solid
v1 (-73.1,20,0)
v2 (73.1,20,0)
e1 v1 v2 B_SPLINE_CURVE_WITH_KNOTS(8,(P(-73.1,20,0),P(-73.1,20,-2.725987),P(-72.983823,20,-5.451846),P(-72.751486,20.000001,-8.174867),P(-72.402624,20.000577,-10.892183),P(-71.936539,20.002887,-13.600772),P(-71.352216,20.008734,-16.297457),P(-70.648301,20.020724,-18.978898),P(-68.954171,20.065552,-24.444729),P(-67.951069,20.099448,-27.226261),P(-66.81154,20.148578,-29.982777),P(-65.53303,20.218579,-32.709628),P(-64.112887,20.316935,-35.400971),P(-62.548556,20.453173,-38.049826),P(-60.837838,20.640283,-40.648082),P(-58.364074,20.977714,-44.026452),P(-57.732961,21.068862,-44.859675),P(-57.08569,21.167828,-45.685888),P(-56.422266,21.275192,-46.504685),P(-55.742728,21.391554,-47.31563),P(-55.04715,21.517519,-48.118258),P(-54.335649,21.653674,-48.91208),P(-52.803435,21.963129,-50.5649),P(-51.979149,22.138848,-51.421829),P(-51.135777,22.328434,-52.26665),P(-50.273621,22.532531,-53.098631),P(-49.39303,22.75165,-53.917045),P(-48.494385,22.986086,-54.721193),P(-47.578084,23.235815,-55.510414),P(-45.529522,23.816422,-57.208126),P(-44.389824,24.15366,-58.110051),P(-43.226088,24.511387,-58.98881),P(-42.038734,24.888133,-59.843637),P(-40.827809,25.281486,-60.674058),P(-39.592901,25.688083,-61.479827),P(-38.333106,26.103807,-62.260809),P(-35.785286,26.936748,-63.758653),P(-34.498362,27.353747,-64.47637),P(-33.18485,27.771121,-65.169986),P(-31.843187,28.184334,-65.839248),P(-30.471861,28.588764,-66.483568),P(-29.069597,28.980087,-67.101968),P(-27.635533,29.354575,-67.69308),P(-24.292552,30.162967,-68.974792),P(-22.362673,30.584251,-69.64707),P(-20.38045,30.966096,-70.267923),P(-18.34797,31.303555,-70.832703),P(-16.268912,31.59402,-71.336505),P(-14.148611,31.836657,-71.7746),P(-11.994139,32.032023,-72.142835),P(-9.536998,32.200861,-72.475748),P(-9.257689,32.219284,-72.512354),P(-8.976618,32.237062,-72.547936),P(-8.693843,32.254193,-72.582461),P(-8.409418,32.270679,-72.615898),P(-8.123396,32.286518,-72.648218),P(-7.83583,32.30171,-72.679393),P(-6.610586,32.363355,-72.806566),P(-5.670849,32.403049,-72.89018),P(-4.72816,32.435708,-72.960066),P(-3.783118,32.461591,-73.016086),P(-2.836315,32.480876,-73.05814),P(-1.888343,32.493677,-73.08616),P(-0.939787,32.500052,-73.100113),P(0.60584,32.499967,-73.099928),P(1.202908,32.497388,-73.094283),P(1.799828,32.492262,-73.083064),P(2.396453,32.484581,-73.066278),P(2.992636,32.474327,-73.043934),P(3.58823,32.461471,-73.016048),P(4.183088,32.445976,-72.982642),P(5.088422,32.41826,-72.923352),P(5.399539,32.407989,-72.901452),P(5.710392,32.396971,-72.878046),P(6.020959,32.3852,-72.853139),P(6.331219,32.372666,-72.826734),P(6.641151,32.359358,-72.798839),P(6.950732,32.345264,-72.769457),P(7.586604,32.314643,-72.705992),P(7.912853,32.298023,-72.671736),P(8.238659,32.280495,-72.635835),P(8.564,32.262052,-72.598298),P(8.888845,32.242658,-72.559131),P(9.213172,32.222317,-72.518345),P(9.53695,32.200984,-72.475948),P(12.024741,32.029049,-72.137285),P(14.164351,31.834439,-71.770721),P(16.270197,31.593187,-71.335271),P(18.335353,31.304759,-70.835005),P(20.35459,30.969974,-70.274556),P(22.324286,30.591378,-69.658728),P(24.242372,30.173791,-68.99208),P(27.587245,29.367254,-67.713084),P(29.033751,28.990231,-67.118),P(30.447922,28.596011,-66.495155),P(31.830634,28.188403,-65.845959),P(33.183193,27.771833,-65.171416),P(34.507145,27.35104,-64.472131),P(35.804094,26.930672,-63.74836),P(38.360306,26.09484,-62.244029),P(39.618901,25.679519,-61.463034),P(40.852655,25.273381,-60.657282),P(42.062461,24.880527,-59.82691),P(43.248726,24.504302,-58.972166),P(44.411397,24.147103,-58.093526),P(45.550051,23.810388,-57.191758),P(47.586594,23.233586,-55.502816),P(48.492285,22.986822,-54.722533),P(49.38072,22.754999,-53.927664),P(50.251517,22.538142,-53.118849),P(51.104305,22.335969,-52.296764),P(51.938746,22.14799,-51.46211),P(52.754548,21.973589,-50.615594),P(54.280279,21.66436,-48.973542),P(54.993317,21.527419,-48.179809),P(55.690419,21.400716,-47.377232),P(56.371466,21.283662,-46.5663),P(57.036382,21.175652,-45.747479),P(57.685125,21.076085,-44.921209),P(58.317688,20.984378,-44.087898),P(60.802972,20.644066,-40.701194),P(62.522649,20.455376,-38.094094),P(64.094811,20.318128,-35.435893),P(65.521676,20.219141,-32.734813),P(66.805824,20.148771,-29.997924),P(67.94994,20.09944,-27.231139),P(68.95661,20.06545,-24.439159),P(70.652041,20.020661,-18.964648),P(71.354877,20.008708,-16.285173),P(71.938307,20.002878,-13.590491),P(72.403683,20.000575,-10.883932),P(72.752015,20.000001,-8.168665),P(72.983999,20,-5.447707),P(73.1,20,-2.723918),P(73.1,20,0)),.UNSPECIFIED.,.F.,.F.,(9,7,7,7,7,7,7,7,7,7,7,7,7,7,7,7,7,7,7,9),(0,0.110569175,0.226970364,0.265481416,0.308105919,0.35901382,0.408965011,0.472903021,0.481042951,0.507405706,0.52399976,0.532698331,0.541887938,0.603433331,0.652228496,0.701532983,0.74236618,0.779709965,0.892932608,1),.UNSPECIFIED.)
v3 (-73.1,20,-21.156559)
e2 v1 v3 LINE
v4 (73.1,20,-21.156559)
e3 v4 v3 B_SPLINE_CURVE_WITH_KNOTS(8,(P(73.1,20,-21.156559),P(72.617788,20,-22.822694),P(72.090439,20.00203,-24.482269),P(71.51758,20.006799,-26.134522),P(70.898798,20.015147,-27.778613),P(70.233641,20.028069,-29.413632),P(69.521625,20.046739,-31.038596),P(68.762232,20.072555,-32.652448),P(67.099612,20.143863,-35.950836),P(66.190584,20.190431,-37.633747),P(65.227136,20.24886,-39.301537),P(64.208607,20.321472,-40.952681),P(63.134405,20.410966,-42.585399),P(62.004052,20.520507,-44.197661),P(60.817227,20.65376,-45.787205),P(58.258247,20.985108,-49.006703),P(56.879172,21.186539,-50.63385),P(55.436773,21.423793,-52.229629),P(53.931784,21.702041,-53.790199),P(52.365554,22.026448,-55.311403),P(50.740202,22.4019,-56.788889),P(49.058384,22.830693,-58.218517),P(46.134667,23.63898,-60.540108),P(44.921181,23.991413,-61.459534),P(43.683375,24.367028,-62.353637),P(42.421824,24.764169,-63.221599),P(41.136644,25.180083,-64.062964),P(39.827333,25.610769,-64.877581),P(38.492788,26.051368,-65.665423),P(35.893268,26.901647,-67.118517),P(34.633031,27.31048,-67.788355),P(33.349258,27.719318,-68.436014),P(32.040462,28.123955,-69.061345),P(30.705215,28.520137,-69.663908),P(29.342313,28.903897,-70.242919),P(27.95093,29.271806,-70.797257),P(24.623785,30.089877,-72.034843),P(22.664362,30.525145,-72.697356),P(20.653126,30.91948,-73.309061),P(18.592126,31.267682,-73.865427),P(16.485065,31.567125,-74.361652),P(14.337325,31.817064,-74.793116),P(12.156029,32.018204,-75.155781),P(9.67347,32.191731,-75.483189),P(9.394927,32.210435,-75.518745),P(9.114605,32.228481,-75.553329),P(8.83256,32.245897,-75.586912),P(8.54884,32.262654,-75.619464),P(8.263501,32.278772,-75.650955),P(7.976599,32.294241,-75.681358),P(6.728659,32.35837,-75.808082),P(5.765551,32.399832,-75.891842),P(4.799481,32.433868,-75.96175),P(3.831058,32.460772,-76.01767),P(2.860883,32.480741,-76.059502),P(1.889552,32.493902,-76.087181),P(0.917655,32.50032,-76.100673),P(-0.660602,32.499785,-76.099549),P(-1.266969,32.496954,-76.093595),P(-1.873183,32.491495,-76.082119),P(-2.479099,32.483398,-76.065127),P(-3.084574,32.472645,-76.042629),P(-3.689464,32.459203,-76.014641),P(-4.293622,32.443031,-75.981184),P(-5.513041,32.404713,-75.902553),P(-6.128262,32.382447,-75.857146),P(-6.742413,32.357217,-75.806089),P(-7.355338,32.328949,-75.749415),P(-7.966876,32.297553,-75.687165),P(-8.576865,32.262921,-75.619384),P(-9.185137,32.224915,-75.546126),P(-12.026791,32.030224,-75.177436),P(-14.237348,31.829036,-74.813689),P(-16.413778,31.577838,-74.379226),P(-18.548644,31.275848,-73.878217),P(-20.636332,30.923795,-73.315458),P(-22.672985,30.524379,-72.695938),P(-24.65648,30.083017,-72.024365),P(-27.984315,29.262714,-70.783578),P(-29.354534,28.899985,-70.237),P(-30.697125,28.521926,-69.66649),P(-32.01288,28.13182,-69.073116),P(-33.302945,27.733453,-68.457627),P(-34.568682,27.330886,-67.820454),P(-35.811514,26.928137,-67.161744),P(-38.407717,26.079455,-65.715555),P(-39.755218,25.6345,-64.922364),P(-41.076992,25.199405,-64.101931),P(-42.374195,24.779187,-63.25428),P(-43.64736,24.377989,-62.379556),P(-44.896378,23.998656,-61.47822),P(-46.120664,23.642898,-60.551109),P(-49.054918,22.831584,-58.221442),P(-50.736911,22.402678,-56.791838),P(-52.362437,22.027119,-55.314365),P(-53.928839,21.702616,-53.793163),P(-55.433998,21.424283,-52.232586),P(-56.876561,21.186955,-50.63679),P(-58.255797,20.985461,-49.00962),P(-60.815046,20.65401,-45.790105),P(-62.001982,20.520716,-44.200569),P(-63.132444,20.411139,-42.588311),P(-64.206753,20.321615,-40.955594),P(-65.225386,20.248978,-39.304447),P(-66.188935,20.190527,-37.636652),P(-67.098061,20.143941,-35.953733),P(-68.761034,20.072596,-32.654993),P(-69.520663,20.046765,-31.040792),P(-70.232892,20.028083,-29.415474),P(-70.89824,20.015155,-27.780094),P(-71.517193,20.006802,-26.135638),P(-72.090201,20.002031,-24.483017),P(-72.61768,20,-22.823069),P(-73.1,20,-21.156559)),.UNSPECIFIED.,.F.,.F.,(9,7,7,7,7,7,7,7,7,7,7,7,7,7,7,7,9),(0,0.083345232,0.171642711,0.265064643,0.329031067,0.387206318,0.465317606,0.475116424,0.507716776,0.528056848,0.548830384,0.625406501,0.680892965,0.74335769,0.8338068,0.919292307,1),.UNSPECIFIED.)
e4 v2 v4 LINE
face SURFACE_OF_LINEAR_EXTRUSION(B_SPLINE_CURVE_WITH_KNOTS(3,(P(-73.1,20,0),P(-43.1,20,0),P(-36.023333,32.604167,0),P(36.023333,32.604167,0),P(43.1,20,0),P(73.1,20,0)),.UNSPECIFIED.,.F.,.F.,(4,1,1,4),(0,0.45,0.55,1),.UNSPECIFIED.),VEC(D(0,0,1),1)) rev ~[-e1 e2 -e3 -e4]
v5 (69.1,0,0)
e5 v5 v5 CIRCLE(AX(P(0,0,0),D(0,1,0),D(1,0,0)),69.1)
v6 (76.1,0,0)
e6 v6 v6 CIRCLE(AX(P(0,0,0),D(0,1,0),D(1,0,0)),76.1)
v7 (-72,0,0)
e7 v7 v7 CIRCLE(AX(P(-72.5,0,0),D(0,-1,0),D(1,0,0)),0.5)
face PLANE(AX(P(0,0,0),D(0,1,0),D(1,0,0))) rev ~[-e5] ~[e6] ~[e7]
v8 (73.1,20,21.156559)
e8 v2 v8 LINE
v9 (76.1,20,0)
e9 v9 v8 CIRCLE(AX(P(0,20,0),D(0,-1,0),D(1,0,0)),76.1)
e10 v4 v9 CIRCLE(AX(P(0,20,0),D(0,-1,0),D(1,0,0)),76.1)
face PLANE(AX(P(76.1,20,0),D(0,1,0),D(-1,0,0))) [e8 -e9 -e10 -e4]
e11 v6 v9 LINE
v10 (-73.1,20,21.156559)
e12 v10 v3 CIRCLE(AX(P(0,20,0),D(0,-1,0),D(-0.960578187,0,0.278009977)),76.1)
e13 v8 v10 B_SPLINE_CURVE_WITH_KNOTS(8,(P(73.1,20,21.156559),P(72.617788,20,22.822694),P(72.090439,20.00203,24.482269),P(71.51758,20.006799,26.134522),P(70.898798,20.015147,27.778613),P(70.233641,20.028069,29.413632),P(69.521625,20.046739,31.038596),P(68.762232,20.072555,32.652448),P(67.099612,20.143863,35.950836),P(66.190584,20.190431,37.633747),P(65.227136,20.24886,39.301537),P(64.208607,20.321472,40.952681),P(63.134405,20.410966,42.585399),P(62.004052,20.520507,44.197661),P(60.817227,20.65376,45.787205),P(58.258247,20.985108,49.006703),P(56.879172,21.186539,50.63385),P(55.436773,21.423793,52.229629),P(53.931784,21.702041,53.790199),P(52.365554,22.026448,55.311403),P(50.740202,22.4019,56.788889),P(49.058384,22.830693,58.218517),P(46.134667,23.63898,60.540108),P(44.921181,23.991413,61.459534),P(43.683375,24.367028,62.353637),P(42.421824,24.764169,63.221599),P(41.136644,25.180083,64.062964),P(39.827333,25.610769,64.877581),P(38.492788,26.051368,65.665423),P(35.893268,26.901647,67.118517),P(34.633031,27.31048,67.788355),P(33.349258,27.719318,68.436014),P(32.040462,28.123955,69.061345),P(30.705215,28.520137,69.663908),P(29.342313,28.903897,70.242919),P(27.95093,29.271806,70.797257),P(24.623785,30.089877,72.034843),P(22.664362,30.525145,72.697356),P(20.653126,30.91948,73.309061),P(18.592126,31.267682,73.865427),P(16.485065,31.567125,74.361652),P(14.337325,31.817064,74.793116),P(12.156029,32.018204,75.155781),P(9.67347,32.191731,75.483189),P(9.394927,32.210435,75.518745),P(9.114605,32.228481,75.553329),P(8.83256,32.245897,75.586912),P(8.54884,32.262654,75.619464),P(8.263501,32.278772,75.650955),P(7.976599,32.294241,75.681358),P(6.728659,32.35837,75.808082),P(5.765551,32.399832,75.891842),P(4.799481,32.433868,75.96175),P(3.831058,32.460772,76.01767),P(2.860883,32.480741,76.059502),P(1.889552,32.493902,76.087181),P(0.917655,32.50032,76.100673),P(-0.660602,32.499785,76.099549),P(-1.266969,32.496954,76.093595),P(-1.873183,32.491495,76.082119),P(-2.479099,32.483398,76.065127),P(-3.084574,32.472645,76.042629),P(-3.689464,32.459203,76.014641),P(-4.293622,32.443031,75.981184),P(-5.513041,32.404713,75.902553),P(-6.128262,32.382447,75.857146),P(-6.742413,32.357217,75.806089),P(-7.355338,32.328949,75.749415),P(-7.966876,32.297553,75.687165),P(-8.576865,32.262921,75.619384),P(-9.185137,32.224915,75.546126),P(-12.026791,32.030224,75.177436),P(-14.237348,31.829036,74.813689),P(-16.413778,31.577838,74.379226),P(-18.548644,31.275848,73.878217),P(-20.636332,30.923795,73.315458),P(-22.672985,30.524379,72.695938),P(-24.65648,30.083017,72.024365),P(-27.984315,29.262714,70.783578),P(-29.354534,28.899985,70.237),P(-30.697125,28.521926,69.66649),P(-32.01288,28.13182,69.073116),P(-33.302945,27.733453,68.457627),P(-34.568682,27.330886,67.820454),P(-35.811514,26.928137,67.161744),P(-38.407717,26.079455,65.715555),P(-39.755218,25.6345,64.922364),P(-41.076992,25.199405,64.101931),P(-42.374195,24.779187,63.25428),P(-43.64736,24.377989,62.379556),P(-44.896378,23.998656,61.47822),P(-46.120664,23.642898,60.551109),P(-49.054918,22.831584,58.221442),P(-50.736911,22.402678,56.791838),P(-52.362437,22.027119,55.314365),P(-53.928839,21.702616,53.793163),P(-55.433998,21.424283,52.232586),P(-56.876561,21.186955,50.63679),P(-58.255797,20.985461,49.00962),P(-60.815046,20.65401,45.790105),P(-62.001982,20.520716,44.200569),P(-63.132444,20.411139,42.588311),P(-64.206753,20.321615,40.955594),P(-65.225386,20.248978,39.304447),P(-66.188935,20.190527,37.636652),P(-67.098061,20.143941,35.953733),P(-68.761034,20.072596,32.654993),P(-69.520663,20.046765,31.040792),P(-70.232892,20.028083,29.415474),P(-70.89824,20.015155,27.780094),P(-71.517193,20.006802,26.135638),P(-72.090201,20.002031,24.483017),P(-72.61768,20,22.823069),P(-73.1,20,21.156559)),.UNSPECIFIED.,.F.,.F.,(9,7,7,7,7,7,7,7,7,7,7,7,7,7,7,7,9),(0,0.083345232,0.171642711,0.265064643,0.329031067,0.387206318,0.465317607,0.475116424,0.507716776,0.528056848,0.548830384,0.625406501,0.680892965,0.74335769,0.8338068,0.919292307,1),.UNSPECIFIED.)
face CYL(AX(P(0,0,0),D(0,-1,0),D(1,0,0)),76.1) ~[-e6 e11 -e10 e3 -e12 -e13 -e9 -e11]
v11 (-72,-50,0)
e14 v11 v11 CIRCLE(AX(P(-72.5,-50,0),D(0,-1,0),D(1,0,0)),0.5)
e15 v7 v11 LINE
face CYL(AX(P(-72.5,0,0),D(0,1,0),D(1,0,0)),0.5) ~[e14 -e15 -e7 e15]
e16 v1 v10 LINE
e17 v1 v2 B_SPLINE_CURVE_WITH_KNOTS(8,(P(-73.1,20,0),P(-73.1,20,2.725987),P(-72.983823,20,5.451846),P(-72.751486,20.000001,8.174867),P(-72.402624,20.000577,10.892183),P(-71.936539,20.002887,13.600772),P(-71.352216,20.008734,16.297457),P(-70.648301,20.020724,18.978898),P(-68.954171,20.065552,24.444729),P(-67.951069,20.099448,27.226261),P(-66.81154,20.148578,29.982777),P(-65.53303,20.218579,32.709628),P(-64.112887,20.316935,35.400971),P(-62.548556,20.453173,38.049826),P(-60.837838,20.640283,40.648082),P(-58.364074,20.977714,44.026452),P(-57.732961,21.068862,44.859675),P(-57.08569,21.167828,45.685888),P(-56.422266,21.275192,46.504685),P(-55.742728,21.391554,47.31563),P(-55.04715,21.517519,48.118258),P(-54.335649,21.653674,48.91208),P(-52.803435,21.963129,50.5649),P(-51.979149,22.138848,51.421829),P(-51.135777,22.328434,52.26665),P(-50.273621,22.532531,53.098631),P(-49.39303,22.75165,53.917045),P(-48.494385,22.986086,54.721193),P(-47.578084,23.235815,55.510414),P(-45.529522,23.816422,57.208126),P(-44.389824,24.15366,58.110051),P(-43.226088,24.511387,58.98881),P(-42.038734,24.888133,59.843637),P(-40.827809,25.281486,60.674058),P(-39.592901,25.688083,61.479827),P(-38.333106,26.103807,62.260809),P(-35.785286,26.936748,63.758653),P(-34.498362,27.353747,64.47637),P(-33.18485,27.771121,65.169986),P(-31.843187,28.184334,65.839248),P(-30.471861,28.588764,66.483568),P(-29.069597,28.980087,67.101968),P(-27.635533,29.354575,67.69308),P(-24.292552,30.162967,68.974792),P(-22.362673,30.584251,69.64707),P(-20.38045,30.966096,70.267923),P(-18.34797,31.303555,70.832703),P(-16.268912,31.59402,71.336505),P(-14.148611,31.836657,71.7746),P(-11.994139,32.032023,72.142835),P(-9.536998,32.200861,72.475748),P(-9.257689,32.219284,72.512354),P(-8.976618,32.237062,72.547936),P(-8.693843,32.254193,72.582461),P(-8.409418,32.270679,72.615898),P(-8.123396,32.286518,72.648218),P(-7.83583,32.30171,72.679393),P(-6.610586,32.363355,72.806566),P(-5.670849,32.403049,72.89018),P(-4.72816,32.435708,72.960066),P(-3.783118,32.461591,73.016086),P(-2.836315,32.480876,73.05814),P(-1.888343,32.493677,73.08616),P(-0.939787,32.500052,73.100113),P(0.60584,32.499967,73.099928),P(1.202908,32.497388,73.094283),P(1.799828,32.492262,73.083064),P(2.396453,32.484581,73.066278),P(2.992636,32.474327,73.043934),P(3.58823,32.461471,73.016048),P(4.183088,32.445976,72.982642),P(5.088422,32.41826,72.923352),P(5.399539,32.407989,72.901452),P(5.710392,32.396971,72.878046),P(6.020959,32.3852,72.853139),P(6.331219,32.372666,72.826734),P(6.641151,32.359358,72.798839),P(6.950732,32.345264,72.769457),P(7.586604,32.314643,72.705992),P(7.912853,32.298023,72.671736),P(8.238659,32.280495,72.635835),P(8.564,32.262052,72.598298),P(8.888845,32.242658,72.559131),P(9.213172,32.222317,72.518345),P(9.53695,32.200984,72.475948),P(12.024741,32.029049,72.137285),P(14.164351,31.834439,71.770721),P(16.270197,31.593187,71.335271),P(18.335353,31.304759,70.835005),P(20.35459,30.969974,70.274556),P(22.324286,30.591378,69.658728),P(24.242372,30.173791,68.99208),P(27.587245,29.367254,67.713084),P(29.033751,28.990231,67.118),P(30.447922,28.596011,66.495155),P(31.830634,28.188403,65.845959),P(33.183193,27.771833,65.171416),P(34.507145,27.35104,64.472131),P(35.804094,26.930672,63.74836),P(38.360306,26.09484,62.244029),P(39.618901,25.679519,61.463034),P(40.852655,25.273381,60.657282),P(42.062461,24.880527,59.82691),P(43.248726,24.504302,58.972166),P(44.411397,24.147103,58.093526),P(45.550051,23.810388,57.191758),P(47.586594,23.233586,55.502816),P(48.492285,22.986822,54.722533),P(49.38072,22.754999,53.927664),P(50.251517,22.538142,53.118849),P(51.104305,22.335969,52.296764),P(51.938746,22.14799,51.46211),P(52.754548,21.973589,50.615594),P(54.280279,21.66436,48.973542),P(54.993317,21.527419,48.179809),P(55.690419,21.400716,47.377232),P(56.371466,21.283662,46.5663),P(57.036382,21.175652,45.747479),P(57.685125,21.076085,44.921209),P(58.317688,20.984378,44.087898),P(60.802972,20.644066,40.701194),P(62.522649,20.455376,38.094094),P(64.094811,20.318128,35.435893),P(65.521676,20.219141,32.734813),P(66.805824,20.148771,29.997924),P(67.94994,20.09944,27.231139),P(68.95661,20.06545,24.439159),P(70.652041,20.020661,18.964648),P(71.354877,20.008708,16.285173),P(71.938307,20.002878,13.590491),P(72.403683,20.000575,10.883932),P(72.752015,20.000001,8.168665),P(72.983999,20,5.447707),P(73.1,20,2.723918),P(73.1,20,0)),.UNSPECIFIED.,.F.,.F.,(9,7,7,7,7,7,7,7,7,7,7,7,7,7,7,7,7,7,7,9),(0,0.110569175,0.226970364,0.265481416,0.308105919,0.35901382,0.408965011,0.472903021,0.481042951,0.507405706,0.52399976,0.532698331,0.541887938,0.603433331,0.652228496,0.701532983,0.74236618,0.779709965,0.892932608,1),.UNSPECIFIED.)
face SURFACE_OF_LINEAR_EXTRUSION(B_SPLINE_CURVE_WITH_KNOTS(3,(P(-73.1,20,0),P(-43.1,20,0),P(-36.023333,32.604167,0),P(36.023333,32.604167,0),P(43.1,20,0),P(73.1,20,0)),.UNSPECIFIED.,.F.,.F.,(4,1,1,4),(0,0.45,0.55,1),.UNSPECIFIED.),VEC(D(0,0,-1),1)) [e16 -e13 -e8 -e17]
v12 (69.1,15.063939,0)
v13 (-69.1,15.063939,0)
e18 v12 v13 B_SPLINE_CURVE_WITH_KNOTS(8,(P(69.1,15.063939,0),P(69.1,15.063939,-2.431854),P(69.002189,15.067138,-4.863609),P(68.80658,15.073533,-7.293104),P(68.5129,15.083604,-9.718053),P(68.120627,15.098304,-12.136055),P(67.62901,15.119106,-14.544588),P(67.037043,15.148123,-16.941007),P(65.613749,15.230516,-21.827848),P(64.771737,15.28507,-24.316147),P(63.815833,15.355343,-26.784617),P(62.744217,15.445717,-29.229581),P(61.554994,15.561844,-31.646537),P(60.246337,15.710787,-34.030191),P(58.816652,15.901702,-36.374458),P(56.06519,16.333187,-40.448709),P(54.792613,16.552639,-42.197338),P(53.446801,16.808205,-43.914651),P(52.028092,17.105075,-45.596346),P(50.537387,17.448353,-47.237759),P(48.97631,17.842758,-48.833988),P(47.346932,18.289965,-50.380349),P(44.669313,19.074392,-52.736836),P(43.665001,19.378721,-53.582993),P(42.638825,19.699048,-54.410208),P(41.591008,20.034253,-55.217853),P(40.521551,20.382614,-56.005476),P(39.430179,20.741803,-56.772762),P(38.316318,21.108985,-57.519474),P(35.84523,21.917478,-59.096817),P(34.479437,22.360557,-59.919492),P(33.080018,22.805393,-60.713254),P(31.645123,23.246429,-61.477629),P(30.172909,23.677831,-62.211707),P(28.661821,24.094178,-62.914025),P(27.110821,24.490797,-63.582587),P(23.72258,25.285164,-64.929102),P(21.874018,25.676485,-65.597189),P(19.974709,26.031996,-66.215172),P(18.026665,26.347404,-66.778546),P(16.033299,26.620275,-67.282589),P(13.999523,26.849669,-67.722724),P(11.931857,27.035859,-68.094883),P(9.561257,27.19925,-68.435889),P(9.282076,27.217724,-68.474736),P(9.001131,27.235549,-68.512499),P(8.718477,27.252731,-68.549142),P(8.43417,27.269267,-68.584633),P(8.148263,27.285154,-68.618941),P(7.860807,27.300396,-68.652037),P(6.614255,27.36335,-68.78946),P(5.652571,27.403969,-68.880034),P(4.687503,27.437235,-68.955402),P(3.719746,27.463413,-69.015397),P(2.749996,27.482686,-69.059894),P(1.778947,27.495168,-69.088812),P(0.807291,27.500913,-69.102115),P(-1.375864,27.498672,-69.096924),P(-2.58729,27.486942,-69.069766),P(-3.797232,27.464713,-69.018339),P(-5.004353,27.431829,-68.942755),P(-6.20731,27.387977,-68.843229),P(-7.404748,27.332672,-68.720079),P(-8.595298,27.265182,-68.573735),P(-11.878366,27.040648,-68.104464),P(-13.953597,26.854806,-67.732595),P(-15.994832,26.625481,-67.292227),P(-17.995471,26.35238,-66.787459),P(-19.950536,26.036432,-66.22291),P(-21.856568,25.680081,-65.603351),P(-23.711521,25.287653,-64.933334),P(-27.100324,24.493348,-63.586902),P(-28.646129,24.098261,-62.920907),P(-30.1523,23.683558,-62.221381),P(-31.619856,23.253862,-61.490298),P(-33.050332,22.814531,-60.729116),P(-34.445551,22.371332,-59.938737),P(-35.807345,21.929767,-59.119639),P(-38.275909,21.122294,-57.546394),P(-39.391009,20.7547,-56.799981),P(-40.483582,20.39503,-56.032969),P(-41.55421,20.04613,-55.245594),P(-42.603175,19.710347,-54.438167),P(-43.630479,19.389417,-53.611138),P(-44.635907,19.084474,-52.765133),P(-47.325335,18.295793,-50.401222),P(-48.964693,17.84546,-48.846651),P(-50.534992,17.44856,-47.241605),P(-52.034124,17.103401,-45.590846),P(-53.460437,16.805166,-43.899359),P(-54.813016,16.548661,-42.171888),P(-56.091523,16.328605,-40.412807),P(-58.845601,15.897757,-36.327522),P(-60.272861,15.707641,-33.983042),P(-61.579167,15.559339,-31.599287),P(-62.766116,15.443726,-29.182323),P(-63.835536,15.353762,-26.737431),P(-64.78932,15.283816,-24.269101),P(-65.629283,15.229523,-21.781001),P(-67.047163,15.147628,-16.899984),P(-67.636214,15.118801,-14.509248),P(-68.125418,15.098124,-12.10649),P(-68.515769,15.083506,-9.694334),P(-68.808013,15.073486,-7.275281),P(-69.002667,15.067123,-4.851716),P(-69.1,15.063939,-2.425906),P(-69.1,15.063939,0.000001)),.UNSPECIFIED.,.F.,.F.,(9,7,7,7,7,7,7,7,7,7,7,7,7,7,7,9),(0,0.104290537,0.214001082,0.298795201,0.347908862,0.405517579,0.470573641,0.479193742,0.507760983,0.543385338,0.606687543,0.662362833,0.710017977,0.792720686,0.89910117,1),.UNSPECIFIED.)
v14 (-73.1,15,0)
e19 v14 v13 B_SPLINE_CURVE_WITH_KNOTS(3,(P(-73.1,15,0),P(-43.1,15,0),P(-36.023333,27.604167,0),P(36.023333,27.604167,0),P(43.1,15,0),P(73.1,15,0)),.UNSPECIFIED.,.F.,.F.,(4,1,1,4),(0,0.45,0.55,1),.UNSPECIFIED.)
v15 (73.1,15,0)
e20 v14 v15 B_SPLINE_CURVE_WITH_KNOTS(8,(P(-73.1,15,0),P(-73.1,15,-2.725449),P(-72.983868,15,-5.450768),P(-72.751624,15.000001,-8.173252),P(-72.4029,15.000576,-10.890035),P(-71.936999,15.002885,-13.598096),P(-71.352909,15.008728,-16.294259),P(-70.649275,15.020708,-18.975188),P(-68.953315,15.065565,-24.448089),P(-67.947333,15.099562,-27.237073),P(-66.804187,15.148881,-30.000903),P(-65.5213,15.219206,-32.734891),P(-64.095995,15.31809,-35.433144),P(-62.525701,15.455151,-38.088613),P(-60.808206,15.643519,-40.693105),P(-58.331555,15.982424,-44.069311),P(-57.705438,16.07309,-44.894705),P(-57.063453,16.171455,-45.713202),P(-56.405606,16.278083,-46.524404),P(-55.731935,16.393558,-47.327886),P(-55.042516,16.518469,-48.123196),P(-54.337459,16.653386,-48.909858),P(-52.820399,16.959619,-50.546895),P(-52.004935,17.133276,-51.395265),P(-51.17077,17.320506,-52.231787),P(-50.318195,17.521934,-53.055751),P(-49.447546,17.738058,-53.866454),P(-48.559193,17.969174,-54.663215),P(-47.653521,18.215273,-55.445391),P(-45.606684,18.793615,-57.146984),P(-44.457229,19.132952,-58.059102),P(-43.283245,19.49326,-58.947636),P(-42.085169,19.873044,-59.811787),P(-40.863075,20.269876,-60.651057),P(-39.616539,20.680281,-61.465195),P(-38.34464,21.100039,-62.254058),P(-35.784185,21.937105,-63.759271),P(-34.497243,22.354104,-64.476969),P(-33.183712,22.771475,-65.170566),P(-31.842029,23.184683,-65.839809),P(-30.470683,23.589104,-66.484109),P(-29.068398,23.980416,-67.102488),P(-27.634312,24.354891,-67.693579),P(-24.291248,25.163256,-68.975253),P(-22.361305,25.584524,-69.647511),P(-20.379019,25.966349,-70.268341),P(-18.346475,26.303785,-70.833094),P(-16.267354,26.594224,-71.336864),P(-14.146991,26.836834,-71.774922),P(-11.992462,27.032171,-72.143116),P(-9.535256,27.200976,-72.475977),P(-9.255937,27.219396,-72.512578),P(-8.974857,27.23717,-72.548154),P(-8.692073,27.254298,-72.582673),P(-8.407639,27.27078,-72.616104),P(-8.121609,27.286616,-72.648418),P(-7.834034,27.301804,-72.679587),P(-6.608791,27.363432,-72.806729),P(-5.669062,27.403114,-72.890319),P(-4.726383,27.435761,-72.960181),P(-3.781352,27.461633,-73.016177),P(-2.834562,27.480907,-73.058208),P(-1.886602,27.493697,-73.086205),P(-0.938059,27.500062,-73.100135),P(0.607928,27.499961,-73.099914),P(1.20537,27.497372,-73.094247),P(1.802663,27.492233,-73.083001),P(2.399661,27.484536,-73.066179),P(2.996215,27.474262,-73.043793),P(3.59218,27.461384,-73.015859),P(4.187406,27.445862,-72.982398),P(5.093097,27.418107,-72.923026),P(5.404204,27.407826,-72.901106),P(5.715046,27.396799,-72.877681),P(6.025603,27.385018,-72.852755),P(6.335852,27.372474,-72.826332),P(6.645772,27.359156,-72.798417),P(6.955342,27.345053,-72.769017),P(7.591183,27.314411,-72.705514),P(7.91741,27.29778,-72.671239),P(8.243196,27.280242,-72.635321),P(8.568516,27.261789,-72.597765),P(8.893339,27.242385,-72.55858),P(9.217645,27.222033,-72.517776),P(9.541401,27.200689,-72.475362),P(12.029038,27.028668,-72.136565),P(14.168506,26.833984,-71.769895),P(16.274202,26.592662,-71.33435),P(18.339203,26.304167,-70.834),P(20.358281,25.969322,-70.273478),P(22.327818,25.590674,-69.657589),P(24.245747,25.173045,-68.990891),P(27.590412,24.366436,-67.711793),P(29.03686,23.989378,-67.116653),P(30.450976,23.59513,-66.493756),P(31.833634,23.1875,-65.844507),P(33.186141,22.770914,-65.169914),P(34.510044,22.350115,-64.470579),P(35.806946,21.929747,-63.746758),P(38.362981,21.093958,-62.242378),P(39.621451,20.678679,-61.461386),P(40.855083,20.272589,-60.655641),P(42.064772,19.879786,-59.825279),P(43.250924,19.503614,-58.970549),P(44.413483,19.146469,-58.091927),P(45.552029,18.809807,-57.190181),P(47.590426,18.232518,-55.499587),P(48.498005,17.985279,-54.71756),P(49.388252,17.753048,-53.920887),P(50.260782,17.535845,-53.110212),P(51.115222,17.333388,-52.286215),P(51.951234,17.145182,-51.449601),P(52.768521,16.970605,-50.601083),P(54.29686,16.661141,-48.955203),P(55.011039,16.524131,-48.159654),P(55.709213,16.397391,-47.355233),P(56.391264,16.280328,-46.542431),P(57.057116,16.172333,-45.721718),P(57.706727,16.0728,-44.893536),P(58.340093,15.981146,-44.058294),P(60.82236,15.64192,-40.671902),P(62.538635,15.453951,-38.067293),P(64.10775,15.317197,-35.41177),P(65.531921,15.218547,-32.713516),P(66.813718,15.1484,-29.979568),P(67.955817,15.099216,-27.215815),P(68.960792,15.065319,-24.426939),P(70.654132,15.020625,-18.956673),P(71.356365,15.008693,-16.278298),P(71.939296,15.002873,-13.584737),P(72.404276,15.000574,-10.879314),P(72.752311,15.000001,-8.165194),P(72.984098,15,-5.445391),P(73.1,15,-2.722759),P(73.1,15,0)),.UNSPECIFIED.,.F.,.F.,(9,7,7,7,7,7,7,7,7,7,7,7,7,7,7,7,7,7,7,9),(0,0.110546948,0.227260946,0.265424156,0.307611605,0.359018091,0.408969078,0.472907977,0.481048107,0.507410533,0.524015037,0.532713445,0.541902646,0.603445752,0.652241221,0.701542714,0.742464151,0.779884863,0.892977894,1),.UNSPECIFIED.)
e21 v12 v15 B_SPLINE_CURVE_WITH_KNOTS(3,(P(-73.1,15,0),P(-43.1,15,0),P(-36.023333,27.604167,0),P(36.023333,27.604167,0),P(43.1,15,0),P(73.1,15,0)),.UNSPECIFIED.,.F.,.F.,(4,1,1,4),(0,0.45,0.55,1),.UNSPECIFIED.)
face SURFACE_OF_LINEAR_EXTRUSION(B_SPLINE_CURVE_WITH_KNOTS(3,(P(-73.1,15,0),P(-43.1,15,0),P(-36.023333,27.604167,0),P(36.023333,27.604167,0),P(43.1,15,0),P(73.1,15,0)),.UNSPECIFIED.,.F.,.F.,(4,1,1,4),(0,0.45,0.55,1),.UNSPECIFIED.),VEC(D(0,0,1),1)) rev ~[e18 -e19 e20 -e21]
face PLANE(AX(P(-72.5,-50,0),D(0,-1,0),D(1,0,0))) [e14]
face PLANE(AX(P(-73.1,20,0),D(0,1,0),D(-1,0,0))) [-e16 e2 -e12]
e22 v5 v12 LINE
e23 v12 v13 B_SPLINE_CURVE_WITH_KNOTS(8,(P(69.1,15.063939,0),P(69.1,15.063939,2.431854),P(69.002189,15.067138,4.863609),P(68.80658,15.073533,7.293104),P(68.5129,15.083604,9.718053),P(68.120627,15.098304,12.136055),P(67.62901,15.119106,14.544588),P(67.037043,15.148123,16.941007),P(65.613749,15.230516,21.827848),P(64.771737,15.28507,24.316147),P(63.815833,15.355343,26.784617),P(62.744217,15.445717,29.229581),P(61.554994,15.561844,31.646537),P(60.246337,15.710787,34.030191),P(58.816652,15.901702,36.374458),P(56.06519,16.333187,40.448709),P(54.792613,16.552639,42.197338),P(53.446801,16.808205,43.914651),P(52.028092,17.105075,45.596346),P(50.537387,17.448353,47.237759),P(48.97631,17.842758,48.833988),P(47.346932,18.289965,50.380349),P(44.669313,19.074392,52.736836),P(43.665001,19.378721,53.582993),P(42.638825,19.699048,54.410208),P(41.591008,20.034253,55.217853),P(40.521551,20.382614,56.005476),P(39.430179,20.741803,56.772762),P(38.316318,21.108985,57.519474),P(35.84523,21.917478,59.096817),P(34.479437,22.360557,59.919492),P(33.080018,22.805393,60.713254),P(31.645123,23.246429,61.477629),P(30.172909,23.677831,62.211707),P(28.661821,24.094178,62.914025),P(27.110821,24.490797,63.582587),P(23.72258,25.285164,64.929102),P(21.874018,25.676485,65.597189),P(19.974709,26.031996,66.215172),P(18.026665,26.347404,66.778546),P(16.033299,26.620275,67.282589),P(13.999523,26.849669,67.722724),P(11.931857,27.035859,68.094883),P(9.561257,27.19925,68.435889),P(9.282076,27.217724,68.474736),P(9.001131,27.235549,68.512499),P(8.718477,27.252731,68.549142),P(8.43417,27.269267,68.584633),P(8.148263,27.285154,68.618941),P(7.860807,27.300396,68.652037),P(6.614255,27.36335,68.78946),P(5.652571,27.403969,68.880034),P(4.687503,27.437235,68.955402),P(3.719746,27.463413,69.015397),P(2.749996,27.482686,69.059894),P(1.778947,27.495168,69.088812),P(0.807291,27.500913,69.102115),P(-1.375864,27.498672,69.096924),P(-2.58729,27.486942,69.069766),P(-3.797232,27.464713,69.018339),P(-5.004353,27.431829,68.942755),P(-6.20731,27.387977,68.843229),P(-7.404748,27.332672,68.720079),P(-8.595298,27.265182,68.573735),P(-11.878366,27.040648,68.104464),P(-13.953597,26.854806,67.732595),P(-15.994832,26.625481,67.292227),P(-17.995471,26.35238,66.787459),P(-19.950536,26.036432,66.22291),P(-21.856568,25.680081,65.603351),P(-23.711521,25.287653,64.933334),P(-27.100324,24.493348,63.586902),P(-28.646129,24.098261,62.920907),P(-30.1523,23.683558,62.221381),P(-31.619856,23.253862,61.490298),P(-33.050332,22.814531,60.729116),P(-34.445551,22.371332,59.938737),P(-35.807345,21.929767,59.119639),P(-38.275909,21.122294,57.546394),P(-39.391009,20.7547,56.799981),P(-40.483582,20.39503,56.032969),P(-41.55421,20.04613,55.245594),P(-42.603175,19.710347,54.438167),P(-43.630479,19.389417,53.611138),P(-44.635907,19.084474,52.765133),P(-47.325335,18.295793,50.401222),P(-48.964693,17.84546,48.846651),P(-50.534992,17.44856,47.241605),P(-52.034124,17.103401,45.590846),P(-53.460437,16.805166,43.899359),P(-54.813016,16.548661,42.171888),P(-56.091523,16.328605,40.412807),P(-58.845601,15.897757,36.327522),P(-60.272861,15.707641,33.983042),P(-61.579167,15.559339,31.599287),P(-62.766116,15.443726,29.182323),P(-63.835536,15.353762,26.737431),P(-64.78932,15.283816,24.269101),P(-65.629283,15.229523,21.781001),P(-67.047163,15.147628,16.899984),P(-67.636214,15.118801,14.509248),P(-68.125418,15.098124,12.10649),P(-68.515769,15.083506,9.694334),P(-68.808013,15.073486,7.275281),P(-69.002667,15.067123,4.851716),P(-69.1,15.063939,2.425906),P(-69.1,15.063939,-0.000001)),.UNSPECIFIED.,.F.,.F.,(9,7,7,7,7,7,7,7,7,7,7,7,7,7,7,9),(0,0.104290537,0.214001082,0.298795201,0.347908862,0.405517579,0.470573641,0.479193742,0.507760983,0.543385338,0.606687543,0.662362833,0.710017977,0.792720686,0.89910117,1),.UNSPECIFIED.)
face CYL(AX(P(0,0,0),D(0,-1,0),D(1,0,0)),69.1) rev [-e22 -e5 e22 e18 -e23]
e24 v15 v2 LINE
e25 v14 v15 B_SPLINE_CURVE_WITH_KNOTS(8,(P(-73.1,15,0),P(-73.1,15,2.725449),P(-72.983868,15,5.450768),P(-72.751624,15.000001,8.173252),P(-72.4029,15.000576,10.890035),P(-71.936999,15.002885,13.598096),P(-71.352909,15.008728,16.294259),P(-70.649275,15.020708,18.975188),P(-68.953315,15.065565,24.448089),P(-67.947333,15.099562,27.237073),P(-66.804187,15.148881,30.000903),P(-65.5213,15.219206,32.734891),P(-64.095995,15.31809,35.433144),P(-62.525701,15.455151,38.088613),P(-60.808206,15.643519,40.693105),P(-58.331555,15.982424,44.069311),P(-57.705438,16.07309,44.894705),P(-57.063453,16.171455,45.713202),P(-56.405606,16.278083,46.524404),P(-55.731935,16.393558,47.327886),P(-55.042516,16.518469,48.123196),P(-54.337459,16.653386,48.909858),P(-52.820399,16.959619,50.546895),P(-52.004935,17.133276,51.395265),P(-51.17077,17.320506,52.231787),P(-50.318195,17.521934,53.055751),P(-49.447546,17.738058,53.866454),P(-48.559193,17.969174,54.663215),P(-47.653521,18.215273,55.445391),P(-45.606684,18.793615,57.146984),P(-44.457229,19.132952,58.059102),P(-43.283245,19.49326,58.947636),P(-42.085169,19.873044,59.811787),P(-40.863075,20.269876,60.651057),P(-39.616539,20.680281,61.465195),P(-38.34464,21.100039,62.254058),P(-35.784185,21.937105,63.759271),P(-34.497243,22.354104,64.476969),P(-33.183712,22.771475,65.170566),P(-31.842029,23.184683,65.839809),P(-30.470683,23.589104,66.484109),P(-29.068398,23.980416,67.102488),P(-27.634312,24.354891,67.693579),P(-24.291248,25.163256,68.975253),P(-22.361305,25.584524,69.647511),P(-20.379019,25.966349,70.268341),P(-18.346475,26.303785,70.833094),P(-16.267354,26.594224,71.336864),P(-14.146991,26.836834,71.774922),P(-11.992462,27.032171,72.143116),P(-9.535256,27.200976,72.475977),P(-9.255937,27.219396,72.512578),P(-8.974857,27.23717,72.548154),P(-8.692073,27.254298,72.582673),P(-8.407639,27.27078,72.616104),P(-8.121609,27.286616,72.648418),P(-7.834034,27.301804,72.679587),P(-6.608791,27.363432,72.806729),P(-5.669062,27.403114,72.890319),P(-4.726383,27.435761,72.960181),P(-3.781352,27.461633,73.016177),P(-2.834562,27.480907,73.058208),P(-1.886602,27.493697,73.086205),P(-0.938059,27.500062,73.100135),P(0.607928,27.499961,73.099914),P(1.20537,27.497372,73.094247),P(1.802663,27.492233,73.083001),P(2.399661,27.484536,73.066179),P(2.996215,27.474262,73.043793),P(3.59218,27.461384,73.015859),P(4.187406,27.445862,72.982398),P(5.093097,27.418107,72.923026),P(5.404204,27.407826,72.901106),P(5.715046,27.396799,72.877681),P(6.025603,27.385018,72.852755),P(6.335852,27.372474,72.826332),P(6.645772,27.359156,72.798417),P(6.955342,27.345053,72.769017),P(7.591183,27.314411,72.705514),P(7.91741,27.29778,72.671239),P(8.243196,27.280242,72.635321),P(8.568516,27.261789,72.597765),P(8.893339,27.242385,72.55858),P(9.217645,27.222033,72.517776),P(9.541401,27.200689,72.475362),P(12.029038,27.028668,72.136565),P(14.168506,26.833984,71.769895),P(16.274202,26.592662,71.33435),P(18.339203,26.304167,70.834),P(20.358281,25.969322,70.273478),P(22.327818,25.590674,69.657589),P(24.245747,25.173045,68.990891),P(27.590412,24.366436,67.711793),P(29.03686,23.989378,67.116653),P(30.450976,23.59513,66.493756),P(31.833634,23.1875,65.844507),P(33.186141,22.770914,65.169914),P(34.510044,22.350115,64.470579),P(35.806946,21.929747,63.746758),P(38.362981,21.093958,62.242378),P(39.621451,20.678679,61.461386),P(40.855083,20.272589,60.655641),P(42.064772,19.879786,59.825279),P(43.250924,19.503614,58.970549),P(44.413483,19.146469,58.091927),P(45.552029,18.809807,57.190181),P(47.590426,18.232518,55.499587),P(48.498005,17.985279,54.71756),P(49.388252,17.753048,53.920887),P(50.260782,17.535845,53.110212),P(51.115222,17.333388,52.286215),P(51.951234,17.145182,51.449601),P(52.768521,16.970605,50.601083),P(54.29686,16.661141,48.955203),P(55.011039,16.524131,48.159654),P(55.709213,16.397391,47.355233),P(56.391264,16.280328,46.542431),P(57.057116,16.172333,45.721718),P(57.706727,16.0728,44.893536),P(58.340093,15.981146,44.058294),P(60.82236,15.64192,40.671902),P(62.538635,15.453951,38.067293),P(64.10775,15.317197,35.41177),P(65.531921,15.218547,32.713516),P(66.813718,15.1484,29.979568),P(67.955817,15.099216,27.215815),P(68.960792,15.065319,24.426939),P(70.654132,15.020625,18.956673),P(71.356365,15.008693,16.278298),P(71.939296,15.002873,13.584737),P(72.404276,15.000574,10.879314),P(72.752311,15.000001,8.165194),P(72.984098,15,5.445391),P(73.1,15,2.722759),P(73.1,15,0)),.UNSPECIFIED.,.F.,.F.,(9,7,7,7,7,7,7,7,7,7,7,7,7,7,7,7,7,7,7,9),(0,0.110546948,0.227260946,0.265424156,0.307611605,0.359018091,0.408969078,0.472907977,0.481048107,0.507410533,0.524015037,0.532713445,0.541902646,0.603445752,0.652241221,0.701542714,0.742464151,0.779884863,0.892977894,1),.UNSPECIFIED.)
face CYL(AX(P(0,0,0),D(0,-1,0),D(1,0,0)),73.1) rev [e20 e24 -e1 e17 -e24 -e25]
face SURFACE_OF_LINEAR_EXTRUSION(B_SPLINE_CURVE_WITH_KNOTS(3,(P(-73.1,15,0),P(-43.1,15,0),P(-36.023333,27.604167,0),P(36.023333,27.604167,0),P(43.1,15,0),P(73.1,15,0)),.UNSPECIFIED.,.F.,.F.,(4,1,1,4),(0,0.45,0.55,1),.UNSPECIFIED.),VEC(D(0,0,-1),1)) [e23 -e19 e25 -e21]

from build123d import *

# Parameters (mm, degrees)
SKETCH1_R           = 73.1
SKETCH1_R_2         = 69.1
EXTRUDE_THIN1_DEPTH = 30
CUT_EXTRUDE1_DEPTH  = 75
SKETCH3_R           = 76.1
SKETCH3_R_2         = 73.1
EXTRUDE_THIN2_DEPTH = 50
CUT_EXTRUDE2_DEPTH  = 77.5
SKETCH5_R           = 0.5
BOSS_EXTRUDE1_DEPTH = 50


with BuildPart() as part:
    # Sketch1 → Extrude-Thin1 (new body)
    with BuildSketch(Plane(origin=(0, 0, 0), x_dir=(1, 0, 0), z_dir=(0, 1, 0))):
        Circle(SKETCH1_R)
        Circle(SKETCH1_R_2, mode=Mode.SUBTRACT)
    extrude(amount=EXTRUDE_THIN1_DEPTH)

    # Sketch2 → Cut-Extrude1 (cut, symmetric)
    with BuildSketch(Plane.XY):
        with BuildLine():
            Line((-73.1, 15), (-73.1, 30))
            Line((-73.1, 30), (0, 30))
            Line((0, 30), (73.1, 30))
            Line((73.1, 30), (73.1, 15))
            add(Edge.make_bspline(
                [(-73.1, 15), (-43.1, 15), (-36.023333333, 27.604166667), (36.023333333, 27.604166667), (43.1, 15), (73.1, 15)],
                knots=[0, 0, 0, 0, 0.45, 0.55, 1, 1, 1, 1], degree=3))
        make_face()
    extrude(amount=CUT_EXTRUDE1_DEPTH, both=True, mode=Mode.SUBTRACT)

    # Sketch3 → Extrude-Thin2 (add)
    with BuildSketch(Plane(origin=(0, 0, 0), x_dir=(1, 0, 0), z_dir=(0, 1, 0))):
        Circle(SKETCH3_R)
        Circle(SKETCH3_R_2, mode=Mode.SUBTRACT)
    extrude(amount=EXTRUDE_THIN2_DEPTH)

    # Sketch4 → Cut-Extrude2 (cut, symmetric)
    with BuildSketch(Plane.XY):
        with BuildLine():
            Line((-73.1, 20), (-76.1, 20))
            Line((-76.1, 20), (-76.1, 50))
            Line((-76.1, 50), (76.1, 50))
            Line((76.1, 50), (76.1, 20))
            Line((76.1, 20), (73.1, 20))
            add(Edge.make_bspline(
                [(-73.1, 20), (-43.1, 20), (-36.023333333, 32.604166667), (36.023333333, 32.604166667), (43.1, 20), (73.1, 20)],
                knots=[0, 0, 0, 0, 0.45, 0.55, 1, 1, 1, 1], degree=3))
        make_face()
    extrude(amount=CUT_EXTRUDE2_DEPTH, both=True, mode=Mode.SUBTRACT)

    # Sketch5 → Boss-Extrude1 (add)
    with BuildSketch(Plane.XZ):
        with Locations((-72.5, 0)):
            Circle(SKETCH5_R)
    extrude(amount=BOSS_EXTRUDE1_DEPTH)


solid = part.part
